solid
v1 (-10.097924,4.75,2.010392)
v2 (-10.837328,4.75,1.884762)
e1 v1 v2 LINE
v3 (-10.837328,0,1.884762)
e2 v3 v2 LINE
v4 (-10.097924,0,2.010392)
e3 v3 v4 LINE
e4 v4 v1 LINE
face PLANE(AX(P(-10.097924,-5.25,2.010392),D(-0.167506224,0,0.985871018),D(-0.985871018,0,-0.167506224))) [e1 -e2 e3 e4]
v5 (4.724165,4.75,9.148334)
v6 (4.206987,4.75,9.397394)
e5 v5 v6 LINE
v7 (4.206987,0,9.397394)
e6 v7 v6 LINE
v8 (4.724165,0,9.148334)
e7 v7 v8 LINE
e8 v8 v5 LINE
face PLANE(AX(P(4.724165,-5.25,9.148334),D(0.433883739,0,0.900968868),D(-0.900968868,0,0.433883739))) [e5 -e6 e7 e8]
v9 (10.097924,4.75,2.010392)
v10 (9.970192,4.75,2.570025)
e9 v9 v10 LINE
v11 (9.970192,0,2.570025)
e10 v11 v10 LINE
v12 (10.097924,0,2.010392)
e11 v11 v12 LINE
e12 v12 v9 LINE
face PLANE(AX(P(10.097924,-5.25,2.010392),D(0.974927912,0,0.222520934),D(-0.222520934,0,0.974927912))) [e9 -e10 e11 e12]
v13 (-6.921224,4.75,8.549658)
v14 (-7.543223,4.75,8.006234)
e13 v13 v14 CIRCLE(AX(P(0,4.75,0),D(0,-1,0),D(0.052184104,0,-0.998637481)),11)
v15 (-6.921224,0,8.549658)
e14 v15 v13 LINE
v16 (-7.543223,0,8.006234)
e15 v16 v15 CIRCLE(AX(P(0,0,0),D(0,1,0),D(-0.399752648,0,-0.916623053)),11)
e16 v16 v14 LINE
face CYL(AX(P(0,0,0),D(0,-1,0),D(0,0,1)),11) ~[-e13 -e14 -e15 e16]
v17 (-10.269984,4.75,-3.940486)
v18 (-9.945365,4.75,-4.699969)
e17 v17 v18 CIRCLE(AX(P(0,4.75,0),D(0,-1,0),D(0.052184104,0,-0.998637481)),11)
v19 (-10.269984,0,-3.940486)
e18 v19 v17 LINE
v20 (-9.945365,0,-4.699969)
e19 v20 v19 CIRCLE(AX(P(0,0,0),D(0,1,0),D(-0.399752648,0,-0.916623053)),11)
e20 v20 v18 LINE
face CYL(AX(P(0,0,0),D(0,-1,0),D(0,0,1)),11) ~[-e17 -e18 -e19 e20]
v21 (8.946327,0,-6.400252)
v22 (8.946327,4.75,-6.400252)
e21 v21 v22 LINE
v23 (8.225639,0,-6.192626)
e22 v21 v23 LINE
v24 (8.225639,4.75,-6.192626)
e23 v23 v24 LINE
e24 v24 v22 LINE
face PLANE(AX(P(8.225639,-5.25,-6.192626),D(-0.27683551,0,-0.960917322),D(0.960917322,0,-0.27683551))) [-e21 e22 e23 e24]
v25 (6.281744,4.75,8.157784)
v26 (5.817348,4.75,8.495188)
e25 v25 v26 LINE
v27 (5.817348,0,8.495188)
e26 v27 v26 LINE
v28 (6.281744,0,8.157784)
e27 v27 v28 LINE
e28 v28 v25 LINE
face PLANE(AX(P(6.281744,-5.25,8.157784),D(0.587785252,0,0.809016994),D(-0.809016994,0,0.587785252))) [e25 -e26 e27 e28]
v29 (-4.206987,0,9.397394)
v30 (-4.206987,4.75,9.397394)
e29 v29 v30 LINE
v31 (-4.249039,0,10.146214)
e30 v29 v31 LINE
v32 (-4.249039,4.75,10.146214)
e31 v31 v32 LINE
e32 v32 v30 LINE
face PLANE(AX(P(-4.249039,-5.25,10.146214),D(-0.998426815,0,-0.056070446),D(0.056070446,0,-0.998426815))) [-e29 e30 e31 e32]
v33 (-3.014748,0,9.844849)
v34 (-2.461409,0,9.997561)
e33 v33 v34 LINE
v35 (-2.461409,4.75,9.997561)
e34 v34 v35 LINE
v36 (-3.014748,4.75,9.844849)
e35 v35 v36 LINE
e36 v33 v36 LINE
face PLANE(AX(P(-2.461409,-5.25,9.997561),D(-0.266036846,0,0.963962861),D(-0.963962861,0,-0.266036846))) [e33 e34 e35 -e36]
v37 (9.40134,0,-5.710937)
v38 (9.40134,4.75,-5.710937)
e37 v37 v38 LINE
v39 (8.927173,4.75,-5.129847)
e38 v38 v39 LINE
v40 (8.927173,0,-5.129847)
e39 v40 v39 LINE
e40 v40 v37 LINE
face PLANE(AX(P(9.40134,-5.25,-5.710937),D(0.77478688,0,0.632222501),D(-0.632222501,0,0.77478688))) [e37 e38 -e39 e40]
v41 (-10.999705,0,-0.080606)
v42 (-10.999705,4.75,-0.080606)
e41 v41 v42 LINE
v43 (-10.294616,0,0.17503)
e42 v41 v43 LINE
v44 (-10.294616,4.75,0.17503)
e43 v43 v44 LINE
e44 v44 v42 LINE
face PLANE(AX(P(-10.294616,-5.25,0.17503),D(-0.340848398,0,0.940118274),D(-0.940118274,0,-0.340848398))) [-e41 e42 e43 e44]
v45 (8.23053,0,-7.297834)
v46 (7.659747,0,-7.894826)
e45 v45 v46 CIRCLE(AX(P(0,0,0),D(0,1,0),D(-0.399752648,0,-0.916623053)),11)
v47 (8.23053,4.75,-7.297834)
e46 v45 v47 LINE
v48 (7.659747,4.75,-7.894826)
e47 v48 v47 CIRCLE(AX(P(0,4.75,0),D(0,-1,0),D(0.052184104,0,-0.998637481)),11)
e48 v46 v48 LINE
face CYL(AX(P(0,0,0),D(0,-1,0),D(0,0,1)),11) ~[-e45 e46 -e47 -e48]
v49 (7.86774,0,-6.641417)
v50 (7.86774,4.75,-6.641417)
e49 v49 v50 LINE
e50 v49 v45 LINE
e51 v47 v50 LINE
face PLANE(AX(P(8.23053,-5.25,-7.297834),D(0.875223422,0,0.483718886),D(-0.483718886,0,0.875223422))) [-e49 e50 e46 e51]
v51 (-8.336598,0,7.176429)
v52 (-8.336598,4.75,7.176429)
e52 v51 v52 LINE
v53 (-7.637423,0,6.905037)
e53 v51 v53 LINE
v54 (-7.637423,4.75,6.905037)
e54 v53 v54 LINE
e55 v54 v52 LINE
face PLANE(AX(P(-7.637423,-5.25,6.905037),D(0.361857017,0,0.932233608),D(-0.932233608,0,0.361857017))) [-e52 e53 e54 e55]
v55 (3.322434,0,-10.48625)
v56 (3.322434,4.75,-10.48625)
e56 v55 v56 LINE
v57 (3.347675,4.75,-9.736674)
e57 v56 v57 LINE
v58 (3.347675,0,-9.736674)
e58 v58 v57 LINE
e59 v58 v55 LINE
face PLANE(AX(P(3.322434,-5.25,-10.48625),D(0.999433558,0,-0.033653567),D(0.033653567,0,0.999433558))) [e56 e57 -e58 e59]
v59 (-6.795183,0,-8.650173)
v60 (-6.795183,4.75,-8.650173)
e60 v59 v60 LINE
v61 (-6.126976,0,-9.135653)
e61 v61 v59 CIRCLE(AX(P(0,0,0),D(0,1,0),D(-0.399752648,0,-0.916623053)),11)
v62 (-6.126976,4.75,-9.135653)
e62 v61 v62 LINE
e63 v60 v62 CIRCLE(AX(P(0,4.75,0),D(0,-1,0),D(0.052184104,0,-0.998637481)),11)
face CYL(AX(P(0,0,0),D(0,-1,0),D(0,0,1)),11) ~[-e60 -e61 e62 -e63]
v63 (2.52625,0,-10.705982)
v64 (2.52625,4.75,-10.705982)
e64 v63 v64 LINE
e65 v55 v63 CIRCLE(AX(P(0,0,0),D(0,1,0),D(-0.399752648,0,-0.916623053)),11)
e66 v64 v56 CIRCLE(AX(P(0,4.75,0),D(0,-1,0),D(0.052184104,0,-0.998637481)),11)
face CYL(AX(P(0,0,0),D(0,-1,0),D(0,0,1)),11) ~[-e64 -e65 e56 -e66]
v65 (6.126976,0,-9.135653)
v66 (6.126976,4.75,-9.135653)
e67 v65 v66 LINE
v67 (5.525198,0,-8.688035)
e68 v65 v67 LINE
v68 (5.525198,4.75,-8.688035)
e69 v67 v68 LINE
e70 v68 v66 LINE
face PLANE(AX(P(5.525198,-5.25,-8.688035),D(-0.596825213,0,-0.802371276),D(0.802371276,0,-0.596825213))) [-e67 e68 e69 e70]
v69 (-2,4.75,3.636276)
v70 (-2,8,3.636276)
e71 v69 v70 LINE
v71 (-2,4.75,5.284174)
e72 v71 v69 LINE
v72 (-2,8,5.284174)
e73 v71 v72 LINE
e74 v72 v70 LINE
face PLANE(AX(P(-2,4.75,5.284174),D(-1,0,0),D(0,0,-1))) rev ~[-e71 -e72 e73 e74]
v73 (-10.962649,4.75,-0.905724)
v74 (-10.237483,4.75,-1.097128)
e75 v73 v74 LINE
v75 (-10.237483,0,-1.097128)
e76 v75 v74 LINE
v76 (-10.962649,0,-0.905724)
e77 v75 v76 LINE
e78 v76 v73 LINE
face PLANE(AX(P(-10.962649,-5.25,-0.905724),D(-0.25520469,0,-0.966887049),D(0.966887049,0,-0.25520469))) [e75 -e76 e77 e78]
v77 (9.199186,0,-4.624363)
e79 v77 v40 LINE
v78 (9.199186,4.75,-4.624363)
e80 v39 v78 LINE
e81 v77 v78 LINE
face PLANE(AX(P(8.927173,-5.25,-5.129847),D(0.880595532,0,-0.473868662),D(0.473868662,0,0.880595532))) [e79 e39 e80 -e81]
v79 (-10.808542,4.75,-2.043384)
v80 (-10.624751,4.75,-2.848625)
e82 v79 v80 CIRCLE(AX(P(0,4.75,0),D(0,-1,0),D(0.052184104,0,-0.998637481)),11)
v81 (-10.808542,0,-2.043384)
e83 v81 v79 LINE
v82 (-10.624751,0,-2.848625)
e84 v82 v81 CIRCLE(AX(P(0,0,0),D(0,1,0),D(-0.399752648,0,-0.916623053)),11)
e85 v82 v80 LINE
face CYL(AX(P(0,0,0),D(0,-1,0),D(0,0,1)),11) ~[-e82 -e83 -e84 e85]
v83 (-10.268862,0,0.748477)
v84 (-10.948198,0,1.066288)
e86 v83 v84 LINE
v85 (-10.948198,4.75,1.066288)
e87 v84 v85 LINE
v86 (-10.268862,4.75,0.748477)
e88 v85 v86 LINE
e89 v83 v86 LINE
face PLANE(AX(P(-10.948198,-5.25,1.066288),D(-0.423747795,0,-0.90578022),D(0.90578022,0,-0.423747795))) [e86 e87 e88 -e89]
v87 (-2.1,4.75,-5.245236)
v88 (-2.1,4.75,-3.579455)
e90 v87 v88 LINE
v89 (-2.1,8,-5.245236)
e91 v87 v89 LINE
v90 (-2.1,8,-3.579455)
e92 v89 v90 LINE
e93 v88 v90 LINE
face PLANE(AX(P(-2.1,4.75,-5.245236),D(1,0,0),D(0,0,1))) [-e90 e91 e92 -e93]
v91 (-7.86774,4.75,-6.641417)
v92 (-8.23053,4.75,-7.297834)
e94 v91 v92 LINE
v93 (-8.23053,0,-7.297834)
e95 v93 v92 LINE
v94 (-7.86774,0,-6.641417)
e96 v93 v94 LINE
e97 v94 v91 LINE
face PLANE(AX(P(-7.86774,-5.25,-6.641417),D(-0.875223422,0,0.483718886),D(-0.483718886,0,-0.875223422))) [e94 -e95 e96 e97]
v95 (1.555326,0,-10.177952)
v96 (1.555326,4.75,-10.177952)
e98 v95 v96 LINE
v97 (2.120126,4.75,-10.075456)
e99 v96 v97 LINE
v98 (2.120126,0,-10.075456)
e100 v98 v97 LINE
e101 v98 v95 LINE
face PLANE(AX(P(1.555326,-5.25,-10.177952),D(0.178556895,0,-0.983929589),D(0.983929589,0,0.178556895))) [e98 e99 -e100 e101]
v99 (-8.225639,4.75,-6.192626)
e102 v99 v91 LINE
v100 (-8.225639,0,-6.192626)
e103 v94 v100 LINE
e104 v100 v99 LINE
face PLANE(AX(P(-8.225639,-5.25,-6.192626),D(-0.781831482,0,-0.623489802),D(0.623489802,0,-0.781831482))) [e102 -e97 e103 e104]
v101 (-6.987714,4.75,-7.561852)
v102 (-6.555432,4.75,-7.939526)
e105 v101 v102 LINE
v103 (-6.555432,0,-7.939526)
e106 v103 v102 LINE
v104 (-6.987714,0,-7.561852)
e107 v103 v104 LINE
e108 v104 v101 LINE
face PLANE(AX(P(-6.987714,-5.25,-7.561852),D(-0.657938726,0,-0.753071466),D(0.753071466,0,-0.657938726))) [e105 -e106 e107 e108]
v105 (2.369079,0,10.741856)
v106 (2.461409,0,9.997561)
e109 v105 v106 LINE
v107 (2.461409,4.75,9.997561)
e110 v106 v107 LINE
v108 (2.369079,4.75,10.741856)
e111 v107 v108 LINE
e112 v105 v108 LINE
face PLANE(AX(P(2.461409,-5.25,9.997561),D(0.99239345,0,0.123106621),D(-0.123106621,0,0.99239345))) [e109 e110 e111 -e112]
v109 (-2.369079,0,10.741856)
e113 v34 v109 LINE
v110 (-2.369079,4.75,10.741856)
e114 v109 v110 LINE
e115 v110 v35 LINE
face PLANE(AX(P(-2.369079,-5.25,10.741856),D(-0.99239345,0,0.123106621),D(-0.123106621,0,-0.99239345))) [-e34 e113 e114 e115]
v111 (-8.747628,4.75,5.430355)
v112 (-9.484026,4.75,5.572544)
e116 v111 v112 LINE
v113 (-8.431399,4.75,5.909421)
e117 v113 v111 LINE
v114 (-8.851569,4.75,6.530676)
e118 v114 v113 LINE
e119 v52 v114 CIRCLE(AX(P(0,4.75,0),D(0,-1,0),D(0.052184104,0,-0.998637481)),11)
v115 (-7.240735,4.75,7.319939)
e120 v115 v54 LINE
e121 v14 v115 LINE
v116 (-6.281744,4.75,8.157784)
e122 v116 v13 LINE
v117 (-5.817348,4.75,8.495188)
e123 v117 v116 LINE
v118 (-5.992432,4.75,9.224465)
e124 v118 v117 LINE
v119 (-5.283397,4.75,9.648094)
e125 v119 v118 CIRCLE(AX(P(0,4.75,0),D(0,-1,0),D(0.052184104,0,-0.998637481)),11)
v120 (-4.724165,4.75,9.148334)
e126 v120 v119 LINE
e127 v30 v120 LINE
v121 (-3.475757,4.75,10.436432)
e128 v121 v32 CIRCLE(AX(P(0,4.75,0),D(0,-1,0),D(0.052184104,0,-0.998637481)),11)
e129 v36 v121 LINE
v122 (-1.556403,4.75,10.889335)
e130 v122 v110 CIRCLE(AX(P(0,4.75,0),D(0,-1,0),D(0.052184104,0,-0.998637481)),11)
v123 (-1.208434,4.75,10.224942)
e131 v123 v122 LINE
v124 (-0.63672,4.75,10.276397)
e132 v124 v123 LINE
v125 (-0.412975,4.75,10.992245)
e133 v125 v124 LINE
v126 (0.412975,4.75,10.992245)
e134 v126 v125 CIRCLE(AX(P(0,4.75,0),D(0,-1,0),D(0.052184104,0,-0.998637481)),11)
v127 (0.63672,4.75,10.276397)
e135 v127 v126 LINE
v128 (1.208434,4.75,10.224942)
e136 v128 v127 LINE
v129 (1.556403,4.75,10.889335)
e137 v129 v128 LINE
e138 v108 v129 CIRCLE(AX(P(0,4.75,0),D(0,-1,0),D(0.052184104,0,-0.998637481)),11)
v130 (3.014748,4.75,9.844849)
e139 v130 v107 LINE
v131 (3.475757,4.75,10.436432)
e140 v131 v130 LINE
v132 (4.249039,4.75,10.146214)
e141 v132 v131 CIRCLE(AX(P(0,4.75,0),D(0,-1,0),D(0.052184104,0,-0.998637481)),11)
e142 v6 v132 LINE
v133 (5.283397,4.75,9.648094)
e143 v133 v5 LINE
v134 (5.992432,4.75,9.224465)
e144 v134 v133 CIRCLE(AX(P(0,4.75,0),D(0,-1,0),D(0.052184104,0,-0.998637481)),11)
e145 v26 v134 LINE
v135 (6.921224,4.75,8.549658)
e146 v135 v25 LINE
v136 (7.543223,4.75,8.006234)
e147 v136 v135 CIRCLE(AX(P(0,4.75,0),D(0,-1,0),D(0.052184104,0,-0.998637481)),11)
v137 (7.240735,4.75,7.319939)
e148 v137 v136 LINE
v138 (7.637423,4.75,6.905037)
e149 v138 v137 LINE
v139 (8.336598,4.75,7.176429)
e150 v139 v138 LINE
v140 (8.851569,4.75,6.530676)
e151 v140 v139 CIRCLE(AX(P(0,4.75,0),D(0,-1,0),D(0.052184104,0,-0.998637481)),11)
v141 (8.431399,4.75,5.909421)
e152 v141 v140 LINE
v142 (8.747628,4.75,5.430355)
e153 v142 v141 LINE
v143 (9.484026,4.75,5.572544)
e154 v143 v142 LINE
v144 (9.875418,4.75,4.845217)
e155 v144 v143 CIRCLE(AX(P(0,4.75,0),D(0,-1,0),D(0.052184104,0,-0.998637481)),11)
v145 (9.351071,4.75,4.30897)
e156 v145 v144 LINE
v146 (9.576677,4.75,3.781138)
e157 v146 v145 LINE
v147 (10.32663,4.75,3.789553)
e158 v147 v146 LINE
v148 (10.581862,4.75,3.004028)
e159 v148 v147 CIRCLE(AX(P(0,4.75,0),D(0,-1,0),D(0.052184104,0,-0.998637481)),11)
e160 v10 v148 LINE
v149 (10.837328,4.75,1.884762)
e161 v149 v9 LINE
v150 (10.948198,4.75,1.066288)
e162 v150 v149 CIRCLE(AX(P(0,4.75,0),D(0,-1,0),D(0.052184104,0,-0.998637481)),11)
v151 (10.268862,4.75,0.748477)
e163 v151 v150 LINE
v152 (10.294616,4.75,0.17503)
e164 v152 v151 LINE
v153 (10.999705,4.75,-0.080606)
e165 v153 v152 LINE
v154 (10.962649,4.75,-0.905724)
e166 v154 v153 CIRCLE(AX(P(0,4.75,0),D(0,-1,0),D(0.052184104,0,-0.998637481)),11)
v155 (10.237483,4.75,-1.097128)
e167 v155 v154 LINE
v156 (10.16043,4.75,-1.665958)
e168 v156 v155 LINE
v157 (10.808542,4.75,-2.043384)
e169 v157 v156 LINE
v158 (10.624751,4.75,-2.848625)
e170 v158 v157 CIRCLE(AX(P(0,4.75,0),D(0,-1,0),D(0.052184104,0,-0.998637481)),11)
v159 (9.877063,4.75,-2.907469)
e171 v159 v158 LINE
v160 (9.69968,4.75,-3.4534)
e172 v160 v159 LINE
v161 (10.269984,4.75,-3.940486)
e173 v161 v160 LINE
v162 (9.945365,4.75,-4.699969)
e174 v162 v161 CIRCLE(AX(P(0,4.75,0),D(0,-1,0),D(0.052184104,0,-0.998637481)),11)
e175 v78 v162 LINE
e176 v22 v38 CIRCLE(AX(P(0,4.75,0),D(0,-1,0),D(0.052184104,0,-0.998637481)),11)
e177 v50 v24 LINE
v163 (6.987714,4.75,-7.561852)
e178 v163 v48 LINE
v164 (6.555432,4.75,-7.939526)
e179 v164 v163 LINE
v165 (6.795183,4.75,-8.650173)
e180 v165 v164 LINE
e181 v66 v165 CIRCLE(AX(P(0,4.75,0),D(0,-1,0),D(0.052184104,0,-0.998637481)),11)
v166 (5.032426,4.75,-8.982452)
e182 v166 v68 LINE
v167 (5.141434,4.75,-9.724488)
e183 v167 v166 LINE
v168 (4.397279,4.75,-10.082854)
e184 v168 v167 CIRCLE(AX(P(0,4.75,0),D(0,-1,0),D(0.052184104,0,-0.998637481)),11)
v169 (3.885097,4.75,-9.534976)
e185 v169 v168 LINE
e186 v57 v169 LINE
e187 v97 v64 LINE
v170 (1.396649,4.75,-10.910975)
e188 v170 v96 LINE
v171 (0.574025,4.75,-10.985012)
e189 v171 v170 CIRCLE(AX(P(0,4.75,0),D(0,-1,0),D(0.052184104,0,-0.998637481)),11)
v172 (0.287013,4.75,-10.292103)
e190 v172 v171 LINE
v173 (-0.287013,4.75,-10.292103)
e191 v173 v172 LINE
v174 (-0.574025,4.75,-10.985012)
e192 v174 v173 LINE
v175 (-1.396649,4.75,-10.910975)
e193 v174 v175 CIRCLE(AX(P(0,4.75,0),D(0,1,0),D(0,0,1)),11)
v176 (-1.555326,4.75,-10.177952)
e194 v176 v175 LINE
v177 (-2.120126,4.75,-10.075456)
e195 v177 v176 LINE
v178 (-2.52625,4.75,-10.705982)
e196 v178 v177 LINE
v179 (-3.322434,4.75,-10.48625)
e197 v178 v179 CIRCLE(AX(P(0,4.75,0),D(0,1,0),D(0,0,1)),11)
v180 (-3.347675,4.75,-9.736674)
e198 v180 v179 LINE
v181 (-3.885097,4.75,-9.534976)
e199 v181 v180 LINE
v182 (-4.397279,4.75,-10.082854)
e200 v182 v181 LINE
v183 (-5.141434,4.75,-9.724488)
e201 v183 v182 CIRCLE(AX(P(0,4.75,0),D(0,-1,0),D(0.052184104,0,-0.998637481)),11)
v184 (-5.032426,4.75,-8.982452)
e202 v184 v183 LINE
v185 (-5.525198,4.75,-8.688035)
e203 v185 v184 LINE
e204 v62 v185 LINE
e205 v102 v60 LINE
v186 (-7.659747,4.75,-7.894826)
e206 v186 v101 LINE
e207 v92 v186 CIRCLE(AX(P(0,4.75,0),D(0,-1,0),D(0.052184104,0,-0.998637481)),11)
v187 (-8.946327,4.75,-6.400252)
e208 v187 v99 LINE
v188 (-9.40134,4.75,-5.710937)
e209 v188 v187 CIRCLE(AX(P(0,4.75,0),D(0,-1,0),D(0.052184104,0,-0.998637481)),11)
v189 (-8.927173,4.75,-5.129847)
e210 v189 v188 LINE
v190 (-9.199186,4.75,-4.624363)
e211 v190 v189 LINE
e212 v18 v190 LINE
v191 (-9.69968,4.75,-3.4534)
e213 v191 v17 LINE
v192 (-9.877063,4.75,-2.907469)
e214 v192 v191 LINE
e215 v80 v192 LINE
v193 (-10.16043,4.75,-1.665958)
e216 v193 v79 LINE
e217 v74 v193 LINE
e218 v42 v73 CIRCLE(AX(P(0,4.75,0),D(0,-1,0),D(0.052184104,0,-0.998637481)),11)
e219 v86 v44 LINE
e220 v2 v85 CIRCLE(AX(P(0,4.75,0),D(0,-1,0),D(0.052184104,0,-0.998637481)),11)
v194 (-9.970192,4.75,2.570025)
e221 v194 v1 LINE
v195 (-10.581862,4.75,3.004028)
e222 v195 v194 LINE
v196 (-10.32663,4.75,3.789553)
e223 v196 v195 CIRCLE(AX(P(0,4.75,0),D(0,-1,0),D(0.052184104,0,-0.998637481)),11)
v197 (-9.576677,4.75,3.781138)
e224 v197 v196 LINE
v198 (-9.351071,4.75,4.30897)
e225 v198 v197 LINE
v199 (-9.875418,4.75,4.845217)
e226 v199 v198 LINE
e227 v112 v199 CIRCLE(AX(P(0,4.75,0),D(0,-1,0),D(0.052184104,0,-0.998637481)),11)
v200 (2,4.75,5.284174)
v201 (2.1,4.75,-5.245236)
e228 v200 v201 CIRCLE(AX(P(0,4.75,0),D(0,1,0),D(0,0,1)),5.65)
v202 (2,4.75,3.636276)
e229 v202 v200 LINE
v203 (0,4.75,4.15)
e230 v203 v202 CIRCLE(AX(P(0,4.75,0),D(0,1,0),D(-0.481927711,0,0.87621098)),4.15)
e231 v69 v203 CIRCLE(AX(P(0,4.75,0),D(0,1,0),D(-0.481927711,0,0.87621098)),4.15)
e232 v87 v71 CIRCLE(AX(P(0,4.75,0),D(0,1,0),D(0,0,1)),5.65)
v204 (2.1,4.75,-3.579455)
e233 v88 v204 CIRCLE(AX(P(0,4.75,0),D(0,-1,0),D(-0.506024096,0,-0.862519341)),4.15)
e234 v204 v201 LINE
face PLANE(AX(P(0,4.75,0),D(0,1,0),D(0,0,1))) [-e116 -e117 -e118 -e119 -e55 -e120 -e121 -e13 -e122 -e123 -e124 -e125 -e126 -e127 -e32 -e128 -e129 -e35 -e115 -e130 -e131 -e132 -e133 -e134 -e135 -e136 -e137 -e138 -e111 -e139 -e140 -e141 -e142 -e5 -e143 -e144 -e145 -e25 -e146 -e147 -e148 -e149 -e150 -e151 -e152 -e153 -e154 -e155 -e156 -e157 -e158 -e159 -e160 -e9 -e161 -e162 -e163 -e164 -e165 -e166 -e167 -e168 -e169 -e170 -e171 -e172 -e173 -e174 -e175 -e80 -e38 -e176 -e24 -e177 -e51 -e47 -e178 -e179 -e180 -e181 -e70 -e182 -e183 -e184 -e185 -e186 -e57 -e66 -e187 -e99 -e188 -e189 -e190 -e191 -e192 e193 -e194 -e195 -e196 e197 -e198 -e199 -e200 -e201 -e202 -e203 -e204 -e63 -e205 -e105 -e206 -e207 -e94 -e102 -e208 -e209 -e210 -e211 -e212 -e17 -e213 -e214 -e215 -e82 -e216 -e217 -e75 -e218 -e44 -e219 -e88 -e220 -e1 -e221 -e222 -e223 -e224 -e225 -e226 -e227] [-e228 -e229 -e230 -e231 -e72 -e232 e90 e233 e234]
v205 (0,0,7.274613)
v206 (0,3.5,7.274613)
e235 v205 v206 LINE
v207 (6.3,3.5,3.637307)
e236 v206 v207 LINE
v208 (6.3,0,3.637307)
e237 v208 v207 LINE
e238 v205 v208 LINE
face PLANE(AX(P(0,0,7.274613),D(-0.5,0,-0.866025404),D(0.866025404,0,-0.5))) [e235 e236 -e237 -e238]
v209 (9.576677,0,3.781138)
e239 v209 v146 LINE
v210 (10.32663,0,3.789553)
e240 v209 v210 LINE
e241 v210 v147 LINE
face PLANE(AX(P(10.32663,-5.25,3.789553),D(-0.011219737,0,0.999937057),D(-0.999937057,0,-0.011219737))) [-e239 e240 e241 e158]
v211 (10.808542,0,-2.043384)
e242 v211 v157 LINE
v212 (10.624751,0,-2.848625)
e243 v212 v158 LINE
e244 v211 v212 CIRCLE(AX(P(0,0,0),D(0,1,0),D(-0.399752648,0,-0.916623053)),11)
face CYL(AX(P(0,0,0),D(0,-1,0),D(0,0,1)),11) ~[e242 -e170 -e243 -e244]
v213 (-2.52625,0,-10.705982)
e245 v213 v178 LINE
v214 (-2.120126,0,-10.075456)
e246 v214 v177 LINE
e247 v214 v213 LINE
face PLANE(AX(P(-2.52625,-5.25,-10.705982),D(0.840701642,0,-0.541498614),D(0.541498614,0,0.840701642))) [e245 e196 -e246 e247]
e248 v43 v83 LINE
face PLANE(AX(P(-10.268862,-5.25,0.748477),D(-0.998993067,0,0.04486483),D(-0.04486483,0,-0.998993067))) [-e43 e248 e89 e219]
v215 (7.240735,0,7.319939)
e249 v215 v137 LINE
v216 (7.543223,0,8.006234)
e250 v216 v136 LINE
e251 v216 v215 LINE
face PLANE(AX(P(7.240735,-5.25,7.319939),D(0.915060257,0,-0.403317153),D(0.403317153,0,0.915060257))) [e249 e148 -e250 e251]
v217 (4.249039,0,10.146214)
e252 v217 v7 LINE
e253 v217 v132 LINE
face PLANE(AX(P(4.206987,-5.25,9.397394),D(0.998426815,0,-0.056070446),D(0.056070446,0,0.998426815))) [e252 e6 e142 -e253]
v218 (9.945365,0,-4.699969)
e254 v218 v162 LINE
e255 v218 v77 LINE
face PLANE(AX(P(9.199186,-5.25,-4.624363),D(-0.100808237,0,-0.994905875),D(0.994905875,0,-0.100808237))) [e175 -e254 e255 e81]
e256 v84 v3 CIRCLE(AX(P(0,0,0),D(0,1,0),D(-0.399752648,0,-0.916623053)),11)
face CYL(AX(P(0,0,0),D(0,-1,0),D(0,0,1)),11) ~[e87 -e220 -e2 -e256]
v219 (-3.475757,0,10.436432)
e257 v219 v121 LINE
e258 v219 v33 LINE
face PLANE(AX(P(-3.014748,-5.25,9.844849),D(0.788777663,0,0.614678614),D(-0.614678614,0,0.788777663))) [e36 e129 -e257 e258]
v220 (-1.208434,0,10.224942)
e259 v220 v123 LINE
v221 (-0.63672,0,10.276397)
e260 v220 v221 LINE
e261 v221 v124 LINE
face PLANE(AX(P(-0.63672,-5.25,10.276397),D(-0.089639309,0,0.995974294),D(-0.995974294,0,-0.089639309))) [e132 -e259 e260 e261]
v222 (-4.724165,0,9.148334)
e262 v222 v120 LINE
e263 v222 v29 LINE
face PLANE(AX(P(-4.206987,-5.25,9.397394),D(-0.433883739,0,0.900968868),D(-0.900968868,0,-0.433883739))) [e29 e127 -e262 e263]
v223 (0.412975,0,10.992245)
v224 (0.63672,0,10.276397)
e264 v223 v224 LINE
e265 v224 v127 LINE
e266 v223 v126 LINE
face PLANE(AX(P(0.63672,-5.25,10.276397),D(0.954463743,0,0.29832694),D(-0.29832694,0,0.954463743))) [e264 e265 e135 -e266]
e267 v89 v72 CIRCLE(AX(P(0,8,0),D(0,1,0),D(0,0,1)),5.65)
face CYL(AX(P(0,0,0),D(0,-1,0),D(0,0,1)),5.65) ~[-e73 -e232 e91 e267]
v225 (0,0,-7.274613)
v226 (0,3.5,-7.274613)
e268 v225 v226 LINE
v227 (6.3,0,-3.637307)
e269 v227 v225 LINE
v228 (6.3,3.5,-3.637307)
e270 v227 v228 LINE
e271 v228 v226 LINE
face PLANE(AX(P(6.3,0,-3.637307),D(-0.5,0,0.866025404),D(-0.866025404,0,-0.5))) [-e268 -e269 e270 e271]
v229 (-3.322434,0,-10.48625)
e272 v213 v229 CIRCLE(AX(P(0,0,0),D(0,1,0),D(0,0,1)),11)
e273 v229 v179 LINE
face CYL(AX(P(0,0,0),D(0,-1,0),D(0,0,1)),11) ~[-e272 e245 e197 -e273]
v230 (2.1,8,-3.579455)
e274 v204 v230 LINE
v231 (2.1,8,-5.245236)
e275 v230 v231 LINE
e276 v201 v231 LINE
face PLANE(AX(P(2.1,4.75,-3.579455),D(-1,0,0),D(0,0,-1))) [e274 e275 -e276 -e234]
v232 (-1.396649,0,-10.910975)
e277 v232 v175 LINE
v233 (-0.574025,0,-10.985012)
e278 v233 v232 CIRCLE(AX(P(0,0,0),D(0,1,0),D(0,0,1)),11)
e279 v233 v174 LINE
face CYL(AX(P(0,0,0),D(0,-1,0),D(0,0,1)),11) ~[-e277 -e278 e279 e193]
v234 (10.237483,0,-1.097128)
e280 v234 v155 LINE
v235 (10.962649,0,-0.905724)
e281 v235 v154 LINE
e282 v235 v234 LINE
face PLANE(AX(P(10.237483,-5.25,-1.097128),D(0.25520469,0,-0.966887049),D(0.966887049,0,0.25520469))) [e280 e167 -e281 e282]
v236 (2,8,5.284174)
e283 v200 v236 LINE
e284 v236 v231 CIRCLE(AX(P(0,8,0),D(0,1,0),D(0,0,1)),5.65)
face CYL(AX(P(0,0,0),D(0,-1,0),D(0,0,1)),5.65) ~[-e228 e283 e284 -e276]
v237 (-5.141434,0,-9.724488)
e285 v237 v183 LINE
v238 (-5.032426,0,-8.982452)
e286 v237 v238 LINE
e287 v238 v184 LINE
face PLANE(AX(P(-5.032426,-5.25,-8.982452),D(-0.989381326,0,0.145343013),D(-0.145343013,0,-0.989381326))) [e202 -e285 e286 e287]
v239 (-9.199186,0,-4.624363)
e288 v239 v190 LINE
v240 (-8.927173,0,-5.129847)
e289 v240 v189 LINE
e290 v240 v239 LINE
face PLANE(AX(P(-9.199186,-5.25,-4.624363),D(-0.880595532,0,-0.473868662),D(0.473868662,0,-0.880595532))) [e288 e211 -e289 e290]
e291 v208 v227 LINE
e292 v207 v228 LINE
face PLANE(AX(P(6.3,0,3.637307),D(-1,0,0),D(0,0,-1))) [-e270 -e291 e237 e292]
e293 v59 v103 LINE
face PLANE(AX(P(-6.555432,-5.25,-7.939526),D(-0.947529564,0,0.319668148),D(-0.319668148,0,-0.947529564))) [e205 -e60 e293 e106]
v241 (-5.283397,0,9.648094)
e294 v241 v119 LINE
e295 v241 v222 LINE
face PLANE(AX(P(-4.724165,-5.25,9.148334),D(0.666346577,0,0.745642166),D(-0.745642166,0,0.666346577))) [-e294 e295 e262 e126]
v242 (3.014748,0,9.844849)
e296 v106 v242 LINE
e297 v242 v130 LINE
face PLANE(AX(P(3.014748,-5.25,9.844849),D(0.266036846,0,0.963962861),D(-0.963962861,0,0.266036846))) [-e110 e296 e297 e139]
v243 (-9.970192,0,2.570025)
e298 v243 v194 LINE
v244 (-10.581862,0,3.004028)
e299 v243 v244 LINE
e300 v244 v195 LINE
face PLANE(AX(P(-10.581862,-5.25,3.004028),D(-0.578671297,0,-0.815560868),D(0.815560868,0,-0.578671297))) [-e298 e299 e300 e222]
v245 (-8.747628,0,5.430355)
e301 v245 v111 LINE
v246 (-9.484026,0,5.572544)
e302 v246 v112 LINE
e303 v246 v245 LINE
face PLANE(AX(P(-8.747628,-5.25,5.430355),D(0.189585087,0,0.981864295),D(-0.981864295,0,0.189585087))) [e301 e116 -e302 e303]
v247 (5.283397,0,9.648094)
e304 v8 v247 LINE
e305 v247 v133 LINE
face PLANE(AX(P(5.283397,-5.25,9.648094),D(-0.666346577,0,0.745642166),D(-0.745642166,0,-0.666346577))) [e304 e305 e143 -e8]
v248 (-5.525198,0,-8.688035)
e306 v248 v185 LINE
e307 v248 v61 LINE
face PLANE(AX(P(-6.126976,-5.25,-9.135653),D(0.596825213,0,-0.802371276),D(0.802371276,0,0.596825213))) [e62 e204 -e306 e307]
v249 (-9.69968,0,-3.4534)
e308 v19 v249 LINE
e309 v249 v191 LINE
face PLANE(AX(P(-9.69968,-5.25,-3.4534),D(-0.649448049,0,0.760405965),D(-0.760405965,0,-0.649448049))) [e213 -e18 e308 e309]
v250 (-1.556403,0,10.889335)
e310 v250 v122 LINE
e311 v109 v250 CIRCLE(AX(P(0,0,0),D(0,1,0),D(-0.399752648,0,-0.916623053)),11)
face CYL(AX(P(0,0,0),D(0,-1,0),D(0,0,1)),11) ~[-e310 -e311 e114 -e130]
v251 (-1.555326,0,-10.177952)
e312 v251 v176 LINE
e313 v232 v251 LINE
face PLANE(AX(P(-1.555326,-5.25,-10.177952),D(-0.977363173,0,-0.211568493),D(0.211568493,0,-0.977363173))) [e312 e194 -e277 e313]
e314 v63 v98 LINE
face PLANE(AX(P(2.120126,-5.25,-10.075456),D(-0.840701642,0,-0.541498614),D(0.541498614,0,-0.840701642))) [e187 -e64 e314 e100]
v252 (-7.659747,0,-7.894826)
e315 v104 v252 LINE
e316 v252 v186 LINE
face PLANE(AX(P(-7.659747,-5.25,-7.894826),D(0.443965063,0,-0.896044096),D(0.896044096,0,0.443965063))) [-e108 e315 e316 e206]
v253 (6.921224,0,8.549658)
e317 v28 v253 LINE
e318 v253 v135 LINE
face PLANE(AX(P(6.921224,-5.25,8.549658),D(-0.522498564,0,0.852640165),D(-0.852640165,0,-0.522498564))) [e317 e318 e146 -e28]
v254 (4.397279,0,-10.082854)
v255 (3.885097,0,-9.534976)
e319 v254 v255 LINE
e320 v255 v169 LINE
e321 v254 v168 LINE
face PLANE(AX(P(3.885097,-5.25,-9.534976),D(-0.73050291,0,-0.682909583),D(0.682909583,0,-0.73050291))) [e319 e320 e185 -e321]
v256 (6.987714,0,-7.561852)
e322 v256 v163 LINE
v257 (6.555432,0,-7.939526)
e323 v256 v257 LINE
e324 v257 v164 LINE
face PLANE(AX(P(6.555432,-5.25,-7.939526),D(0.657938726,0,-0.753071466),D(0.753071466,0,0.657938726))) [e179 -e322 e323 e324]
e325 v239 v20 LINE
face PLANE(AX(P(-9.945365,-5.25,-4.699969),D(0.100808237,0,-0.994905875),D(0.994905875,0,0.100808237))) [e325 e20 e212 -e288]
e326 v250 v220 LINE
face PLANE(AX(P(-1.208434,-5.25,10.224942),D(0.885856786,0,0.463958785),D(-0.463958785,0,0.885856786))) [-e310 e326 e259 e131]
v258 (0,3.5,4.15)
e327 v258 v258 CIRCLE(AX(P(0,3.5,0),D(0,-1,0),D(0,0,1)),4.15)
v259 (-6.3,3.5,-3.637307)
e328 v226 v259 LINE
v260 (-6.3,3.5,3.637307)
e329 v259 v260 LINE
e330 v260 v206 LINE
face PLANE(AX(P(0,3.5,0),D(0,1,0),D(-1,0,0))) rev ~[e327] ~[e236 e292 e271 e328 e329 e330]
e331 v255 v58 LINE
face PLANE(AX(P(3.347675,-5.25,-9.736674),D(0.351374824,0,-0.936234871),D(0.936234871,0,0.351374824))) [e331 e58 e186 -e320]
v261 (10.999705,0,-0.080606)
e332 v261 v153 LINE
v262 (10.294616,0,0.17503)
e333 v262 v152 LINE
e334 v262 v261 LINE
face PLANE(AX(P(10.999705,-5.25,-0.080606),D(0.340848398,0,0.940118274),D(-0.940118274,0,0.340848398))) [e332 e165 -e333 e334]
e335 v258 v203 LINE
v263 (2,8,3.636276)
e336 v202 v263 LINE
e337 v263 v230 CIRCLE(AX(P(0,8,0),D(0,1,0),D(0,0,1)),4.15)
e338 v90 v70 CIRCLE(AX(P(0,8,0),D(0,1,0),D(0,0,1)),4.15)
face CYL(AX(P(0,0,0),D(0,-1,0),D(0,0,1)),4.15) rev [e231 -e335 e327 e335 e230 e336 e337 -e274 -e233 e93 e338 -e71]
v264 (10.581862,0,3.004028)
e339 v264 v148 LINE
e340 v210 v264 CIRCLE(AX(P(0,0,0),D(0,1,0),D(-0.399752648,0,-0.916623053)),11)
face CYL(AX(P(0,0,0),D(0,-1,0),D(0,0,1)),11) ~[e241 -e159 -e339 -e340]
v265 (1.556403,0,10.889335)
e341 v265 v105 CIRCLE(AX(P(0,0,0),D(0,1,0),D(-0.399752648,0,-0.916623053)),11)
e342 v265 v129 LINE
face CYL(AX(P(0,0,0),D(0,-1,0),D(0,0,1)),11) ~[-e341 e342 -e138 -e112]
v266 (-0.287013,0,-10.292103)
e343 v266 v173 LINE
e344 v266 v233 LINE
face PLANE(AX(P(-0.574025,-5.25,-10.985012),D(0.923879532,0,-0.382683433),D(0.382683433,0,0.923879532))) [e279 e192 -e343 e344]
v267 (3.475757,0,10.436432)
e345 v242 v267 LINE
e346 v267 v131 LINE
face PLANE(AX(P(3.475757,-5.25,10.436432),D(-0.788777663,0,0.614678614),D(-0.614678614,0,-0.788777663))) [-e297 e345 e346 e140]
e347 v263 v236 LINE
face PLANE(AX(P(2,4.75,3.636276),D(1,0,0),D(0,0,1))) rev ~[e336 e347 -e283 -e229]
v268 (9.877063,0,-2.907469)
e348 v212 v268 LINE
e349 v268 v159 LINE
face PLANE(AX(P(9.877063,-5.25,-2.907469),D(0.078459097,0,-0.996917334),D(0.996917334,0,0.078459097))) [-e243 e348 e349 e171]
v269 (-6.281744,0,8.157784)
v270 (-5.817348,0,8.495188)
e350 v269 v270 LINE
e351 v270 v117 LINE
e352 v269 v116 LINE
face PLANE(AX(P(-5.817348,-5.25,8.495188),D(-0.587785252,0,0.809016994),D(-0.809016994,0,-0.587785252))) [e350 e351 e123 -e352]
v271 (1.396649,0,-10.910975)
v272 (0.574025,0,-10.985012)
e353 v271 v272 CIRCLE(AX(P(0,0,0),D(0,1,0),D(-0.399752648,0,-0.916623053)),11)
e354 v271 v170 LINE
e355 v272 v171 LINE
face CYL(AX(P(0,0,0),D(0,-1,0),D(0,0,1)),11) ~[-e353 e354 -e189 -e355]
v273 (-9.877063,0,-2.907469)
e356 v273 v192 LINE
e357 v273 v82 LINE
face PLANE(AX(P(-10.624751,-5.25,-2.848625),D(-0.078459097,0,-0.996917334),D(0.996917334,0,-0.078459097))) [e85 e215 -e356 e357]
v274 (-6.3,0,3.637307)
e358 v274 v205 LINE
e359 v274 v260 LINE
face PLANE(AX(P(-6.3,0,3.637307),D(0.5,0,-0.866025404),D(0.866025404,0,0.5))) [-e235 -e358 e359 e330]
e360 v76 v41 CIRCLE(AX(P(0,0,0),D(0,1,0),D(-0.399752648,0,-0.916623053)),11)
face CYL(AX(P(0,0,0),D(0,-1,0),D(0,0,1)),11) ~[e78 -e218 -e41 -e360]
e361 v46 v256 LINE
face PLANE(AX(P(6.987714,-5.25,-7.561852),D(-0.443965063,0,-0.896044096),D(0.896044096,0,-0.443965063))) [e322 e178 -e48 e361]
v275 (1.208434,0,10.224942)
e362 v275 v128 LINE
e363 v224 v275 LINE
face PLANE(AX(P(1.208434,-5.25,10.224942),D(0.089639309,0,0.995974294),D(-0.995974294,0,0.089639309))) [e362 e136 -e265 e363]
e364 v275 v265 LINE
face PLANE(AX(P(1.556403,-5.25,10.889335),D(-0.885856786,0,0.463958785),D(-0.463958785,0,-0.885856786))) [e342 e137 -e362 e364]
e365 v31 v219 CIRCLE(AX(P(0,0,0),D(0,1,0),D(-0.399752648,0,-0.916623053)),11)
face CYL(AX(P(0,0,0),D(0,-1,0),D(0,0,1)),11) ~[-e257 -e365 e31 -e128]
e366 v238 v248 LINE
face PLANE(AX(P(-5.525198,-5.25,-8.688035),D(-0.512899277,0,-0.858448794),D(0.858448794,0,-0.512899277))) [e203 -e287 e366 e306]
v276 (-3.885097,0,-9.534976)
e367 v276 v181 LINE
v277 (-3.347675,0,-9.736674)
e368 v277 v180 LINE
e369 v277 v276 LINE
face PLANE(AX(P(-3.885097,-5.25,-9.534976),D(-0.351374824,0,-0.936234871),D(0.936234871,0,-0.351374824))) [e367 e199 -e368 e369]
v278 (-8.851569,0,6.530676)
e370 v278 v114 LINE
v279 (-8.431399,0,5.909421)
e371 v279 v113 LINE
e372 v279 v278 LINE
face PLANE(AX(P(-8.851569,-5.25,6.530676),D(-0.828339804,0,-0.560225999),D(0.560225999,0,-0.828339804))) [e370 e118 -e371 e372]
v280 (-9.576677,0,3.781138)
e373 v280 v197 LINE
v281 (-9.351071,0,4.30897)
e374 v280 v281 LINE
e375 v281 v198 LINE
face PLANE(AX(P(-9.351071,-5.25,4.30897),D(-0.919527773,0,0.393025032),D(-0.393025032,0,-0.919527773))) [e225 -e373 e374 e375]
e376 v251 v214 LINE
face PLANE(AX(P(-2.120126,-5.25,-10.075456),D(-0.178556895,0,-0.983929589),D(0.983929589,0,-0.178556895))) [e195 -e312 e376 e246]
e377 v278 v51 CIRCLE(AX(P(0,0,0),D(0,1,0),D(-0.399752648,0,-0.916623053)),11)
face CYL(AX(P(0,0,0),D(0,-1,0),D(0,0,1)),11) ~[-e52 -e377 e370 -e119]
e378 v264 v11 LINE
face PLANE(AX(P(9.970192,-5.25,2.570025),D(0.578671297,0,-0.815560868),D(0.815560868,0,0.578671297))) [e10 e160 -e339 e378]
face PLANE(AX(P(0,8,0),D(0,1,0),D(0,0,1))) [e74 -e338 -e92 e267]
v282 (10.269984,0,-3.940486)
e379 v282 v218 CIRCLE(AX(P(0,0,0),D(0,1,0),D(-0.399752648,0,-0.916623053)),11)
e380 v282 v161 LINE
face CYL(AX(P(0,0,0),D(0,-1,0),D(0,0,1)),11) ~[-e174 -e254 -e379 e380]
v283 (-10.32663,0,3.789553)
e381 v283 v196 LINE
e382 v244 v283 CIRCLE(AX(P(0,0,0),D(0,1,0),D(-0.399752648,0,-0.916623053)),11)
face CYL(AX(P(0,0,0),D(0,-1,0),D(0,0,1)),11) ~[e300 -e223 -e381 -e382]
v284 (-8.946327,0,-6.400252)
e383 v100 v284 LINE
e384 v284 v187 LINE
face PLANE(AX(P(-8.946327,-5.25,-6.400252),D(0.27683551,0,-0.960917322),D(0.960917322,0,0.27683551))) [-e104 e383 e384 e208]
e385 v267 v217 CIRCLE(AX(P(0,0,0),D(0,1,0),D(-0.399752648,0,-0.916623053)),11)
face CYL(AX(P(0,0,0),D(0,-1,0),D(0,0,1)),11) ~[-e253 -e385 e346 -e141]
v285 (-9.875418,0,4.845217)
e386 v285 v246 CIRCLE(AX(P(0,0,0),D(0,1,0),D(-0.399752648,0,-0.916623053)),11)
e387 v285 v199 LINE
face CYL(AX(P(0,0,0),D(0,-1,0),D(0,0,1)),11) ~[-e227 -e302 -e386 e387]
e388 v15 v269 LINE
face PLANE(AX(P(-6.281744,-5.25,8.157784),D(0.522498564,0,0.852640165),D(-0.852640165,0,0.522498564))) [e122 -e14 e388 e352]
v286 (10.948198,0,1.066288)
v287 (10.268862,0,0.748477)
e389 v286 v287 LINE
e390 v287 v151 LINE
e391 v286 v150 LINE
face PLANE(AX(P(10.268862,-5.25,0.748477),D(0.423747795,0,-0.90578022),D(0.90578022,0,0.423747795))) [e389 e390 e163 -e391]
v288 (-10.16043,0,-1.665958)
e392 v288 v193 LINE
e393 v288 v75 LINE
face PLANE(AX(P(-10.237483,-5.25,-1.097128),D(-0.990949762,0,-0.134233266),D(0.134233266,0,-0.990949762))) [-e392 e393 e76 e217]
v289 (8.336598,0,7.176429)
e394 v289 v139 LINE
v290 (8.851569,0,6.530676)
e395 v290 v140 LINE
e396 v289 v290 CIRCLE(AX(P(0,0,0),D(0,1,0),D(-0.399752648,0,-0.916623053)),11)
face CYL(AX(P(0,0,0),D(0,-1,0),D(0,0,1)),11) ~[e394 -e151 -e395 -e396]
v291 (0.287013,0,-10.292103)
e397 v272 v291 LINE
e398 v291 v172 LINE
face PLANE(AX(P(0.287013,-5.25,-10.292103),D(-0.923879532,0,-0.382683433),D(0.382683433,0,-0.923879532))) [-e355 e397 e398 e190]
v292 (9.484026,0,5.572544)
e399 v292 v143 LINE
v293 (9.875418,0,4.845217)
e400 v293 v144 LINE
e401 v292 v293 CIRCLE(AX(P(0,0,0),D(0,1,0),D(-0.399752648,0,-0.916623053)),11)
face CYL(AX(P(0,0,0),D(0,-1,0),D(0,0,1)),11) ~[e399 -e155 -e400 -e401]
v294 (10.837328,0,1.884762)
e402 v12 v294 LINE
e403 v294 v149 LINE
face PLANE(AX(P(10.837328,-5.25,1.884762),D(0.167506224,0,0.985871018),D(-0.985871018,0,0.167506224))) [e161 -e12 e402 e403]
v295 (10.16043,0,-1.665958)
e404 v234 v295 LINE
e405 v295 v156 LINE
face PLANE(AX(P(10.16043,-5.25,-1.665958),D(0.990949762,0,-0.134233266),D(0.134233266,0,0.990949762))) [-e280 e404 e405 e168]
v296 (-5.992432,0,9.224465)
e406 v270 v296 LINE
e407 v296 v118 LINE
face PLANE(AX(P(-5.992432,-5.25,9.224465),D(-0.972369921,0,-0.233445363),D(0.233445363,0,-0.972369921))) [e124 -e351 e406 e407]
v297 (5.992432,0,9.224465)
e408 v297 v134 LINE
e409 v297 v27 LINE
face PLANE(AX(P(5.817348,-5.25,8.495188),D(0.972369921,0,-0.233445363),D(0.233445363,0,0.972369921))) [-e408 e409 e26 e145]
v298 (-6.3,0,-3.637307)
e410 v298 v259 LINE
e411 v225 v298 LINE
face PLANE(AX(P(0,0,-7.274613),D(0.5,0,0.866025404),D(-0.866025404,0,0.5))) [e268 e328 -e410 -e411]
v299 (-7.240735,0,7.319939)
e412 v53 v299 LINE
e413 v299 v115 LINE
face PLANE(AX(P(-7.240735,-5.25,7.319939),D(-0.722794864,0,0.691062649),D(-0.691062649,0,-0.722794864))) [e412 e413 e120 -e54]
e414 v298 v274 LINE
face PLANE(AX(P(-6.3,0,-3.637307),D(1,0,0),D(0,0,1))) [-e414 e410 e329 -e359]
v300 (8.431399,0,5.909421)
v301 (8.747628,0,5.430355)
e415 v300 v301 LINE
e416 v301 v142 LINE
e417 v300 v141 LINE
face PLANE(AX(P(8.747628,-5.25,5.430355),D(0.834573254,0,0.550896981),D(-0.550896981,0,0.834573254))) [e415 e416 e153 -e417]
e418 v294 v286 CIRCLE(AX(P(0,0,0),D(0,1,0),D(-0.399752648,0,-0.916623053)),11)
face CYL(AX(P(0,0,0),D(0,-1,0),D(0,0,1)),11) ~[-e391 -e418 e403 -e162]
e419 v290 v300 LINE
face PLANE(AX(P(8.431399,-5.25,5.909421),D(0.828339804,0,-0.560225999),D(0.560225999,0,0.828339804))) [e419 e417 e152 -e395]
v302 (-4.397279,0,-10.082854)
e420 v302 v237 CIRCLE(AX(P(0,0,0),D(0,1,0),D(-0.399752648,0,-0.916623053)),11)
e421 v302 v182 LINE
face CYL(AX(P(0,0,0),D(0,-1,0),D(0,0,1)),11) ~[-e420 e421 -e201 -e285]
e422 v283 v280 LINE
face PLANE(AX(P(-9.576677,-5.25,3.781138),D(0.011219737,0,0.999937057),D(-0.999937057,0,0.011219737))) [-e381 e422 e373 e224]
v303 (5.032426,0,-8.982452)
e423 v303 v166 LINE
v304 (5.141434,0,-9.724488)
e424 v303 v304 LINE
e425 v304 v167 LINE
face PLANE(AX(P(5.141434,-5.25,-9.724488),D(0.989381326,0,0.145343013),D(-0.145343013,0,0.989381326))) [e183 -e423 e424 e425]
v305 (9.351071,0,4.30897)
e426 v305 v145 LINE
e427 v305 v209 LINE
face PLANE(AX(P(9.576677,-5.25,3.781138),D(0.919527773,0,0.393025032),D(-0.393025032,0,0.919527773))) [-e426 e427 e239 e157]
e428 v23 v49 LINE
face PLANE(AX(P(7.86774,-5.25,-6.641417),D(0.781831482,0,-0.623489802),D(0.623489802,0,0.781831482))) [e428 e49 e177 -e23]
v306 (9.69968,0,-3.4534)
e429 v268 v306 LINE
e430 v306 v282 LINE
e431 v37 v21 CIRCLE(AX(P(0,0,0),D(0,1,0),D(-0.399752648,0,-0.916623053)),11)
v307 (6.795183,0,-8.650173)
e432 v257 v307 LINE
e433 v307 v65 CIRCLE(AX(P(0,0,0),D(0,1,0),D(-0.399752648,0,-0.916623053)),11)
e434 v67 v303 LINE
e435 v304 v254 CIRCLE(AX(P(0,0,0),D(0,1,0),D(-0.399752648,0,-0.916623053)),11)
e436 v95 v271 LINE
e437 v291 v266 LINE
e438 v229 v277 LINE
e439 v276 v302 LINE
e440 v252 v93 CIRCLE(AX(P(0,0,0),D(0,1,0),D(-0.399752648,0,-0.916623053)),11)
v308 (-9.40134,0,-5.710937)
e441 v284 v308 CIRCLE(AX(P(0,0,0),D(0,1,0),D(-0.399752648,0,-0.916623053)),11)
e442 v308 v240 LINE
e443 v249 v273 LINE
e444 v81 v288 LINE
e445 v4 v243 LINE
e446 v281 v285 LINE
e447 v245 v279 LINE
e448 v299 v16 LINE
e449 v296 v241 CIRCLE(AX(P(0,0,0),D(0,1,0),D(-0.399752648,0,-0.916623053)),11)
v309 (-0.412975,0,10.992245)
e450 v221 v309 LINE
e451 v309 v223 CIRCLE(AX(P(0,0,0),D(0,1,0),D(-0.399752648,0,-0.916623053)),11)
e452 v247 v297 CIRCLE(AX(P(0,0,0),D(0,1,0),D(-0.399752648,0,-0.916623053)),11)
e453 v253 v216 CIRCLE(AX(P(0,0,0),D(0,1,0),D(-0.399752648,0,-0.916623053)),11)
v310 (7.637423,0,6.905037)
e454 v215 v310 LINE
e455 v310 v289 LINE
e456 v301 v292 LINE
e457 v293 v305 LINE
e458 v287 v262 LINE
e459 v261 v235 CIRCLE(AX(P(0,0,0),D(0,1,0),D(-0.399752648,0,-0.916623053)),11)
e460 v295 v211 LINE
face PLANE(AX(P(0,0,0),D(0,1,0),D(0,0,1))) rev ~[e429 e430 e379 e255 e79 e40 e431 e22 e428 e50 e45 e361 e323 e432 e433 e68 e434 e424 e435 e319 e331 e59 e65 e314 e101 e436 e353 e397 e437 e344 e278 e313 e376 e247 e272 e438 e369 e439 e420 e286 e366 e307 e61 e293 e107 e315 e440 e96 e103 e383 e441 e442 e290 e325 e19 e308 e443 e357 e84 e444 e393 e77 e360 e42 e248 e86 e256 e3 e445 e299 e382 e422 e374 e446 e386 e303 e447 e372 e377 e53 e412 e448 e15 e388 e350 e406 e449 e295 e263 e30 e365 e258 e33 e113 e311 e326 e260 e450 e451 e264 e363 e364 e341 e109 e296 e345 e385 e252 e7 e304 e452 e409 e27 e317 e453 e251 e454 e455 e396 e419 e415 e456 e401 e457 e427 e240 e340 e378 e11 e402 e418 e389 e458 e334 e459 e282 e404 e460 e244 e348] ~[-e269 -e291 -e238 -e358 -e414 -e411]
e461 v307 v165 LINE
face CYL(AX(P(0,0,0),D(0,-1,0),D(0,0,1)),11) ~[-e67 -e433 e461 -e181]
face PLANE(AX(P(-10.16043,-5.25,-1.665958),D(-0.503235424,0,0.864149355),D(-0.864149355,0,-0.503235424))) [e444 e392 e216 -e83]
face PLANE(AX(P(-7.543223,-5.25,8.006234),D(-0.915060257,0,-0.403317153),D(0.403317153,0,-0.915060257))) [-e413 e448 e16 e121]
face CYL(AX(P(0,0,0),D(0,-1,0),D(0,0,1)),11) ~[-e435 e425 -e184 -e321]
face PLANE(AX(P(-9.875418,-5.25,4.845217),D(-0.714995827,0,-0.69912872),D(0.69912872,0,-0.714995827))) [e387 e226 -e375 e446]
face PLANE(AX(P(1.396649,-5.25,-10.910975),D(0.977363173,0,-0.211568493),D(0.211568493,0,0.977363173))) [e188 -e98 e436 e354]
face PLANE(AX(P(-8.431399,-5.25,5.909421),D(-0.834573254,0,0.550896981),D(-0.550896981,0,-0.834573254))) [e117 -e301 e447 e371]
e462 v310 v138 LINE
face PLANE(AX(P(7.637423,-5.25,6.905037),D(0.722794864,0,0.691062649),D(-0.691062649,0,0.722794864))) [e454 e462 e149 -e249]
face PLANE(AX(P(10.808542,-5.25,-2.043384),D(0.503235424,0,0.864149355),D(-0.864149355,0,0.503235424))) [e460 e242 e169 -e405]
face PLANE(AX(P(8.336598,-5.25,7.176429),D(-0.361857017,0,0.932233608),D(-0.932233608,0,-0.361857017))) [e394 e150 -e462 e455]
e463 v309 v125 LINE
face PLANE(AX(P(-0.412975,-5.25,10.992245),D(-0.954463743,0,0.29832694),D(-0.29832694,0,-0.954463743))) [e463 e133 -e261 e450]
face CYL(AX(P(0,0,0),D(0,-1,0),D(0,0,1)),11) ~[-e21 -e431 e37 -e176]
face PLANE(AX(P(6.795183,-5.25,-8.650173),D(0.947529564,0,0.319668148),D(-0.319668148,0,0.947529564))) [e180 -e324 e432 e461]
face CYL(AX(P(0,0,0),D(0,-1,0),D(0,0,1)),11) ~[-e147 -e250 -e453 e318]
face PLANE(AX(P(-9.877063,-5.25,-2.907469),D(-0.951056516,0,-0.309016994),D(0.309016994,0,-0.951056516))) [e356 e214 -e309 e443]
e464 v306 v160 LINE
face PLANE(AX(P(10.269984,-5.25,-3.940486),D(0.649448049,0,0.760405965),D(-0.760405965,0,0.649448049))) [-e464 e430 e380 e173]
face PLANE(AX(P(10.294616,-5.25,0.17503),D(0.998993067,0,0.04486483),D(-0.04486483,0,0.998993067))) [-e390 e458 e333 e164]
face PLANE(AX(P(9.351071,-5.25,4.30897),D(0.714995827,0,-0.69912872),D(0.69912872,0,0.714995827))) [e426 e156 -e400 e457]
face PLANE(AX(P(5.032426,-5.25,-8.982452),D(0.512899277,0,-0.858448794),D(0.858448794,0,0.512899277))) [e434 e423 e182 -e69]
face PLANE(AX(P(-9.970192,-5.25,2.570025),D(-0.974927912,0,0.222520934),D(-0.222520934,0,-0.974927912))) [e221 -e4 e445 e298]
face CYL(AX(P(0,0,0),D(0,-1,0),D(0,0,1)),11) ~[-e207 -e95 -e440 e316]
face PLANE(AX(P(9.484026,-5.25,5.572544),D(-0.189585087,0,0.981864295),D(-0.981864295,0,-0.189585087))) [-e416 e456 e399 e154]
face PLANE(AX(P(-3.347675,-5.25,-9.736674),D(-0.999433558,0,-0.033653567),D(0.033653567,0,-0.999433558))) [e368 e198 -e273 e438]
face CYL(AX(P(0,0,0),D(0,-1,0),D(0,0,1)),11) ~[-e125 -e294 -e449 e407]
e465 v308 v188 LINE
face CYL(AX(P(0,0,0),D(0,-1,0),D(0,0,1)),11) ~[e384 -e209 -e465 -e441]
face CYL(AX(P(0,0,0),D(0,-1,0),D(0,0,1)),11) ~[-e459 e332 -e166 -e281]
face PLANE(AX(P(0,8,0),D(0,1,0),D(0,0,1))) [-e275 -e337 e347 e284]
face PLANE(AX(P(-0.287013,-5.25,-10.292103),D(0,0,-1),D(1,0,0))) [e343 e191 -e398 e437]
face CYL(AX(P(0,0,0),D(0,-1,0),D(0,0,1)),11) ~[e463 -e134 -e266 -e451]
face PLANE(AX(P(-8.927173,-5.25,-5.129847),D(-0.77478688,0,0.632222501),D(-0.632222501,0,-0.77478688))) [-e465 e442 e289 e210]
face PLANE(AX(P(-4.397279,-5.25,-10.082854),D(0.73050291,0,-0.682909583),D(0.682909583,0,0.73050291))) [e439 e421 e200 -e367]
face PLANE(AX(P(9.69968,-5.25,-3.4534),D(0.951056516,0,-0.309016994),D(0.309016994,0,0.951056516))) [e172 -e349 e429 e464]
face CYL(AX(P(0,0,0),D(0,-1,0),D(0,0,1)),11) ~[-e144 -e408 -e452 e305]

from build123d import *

# Parameters (mm, degrees)
SKETCH_1_R               = 5.65
SKETCH_1_R_2             = 4.15
EXTRUDE_1_DEPTH          = 8
SKETCH_1_3_R             = 11
SKETCH_1_3_R_2           = 5.65
EXTRUDE_2_DEPTH          = 4.75
CUT_EXTRUDE_1_DEPTH      = 3.5
CUT_EXTRUDE_START        = -3.25
CUT_EXTRUDE_3_DEPTH      = 3.25
CUT_EXTRUDE_START_2      = -10
CUT_EXTRUDE_4_DEPTH      = 10
PATTERN_CIRCULAR_1_COUNT = 35


with BuildPart() as part:
    # 草图1 → 凸台-拉伸1 (new body)
    with BuildSketch(Plane(origin=(0, 0, 0), x_dir=(1, 0, 0), z_dir=(0, 1, 0))):
        with Locations(Location((0, 0, 0), (0, 0, 270))):
            Circle(SKETCH_1_R)
        with Locations(Location((0, 0, 0), (0, 0, 270))):
            Circle(SKETCH_1_R_2, mode=Mode.SUBTRACT)
    extrude(amount=EXTRUDE_1_DEPTH)

    # 草图1<3> → 凸台-拉伸2 (add)
    with BuildSketch(Plane(origin=(0, 0, 0), x_dir=(1, 0, 0), z_dir=(0, 1, 0))):
        with Locations(Location((0, 0, 0), (0, 0, 270))):
            Circle(SKETCH_1_3_R)
        with Locations(Location((0, 0, 0), (0, 0, 270))):
            Circle(SKETCH_1_3_R_2, mode=Mode.SUBTRACT)
    extrude(amount=EXTRUDE_2_DEPTH)

    # 草图2 → 切除-拉伸1 (cut)
    with BuildSketch(Plane.XZ):
        Polygon((0, -7.274613392), (-6.3, -3.637306696), (-6.3, 3.637306696), (0, 7.274613392), (6.3, 3.637306696), (6.3, -3.637306696), align=None)
    extrude(amount=-CUT_EXTRUDE_1_DEPTH, mode=Mode.SUBTRACT)

    # 草图4 → 切除-拉伸3 (cut)
    with BuildSketch(Plane(origin=(0, 8, 0), x_dir=(1, 0, 0), z_dir=(0, 1, 0)).offset(CUT_EXTRUDE_START)):
        with BuildLine():
            Line((-2.1, 5.245235934), (-2.1, 3.579455266))
            ThreePointArc((-2.1, 3.579455266), (0, 4.15), (2.1, 3.579455266))
            Line((2.1, 3.579455266), (2.1, 5.245235934))
            ThreePointArc((2.1, 5.245235934), (0, 5.65), (-2.1, 5.245235934))
        make_face()
        with BuildLine():
            Line((2, -3.636275567), (2, -5.284174486))
            ThreePointArc((2, -5.284174486), (0, -5.65), (-2, -5.284174486))
            Line((-2, -5.284174486), (-2, -3.636275567))
            ThreePointArc((-2, -3.636275567), (0, -4.15), (2, -3.636275567))
        make_face()
    extrude(amount=CUT_EXTRUDE_3_DEPTH, mode=Mode.SUBTRACT)

    # 草图5 → 切除-拉伸4 (cut)
    with BuildSketch(Plane(origin=(0, 4.75, 0), x_dir=(1, 0, 0), z_dir=(0, 1, 0)).offset(CUT_EXTRUDE_START_2)):
        with BuildLine():
            ThreePointArc((0.574025149, 10.985012295), (0, 11), (-0.574025149, 10.985012295))
            Line((-0.574025149, 10.985012295), (-0.287012574, 10.292102646))
            Line((-0.287012574, 10.292102646), (0.287012574, 10.292102646))
            Line((0.287012574, 10.292102646), (0.574025149, 10.985012295))
        make_face()
    cut_extrude_4 = extrude(amount=CUT_EXTRUDE_4_DEPTH, mode=Mode.SUBTRACT)

    # 阵列(圆周)1: 切除-拉伸4 ×35 about axis
    pattern_circular_1_axis = Axis((0, 0, 0), (0, 1, 0))
    for i in range(1, PATTERN_CIRCULAR_1_COUNT):
        add(cut_extrude_4.rotate(pattern_circular_1_axis, i * 360 / PATTERN_CIRCULAR_1_COUNT), mode=Mode.SUBTRACT)


solid = part.part
